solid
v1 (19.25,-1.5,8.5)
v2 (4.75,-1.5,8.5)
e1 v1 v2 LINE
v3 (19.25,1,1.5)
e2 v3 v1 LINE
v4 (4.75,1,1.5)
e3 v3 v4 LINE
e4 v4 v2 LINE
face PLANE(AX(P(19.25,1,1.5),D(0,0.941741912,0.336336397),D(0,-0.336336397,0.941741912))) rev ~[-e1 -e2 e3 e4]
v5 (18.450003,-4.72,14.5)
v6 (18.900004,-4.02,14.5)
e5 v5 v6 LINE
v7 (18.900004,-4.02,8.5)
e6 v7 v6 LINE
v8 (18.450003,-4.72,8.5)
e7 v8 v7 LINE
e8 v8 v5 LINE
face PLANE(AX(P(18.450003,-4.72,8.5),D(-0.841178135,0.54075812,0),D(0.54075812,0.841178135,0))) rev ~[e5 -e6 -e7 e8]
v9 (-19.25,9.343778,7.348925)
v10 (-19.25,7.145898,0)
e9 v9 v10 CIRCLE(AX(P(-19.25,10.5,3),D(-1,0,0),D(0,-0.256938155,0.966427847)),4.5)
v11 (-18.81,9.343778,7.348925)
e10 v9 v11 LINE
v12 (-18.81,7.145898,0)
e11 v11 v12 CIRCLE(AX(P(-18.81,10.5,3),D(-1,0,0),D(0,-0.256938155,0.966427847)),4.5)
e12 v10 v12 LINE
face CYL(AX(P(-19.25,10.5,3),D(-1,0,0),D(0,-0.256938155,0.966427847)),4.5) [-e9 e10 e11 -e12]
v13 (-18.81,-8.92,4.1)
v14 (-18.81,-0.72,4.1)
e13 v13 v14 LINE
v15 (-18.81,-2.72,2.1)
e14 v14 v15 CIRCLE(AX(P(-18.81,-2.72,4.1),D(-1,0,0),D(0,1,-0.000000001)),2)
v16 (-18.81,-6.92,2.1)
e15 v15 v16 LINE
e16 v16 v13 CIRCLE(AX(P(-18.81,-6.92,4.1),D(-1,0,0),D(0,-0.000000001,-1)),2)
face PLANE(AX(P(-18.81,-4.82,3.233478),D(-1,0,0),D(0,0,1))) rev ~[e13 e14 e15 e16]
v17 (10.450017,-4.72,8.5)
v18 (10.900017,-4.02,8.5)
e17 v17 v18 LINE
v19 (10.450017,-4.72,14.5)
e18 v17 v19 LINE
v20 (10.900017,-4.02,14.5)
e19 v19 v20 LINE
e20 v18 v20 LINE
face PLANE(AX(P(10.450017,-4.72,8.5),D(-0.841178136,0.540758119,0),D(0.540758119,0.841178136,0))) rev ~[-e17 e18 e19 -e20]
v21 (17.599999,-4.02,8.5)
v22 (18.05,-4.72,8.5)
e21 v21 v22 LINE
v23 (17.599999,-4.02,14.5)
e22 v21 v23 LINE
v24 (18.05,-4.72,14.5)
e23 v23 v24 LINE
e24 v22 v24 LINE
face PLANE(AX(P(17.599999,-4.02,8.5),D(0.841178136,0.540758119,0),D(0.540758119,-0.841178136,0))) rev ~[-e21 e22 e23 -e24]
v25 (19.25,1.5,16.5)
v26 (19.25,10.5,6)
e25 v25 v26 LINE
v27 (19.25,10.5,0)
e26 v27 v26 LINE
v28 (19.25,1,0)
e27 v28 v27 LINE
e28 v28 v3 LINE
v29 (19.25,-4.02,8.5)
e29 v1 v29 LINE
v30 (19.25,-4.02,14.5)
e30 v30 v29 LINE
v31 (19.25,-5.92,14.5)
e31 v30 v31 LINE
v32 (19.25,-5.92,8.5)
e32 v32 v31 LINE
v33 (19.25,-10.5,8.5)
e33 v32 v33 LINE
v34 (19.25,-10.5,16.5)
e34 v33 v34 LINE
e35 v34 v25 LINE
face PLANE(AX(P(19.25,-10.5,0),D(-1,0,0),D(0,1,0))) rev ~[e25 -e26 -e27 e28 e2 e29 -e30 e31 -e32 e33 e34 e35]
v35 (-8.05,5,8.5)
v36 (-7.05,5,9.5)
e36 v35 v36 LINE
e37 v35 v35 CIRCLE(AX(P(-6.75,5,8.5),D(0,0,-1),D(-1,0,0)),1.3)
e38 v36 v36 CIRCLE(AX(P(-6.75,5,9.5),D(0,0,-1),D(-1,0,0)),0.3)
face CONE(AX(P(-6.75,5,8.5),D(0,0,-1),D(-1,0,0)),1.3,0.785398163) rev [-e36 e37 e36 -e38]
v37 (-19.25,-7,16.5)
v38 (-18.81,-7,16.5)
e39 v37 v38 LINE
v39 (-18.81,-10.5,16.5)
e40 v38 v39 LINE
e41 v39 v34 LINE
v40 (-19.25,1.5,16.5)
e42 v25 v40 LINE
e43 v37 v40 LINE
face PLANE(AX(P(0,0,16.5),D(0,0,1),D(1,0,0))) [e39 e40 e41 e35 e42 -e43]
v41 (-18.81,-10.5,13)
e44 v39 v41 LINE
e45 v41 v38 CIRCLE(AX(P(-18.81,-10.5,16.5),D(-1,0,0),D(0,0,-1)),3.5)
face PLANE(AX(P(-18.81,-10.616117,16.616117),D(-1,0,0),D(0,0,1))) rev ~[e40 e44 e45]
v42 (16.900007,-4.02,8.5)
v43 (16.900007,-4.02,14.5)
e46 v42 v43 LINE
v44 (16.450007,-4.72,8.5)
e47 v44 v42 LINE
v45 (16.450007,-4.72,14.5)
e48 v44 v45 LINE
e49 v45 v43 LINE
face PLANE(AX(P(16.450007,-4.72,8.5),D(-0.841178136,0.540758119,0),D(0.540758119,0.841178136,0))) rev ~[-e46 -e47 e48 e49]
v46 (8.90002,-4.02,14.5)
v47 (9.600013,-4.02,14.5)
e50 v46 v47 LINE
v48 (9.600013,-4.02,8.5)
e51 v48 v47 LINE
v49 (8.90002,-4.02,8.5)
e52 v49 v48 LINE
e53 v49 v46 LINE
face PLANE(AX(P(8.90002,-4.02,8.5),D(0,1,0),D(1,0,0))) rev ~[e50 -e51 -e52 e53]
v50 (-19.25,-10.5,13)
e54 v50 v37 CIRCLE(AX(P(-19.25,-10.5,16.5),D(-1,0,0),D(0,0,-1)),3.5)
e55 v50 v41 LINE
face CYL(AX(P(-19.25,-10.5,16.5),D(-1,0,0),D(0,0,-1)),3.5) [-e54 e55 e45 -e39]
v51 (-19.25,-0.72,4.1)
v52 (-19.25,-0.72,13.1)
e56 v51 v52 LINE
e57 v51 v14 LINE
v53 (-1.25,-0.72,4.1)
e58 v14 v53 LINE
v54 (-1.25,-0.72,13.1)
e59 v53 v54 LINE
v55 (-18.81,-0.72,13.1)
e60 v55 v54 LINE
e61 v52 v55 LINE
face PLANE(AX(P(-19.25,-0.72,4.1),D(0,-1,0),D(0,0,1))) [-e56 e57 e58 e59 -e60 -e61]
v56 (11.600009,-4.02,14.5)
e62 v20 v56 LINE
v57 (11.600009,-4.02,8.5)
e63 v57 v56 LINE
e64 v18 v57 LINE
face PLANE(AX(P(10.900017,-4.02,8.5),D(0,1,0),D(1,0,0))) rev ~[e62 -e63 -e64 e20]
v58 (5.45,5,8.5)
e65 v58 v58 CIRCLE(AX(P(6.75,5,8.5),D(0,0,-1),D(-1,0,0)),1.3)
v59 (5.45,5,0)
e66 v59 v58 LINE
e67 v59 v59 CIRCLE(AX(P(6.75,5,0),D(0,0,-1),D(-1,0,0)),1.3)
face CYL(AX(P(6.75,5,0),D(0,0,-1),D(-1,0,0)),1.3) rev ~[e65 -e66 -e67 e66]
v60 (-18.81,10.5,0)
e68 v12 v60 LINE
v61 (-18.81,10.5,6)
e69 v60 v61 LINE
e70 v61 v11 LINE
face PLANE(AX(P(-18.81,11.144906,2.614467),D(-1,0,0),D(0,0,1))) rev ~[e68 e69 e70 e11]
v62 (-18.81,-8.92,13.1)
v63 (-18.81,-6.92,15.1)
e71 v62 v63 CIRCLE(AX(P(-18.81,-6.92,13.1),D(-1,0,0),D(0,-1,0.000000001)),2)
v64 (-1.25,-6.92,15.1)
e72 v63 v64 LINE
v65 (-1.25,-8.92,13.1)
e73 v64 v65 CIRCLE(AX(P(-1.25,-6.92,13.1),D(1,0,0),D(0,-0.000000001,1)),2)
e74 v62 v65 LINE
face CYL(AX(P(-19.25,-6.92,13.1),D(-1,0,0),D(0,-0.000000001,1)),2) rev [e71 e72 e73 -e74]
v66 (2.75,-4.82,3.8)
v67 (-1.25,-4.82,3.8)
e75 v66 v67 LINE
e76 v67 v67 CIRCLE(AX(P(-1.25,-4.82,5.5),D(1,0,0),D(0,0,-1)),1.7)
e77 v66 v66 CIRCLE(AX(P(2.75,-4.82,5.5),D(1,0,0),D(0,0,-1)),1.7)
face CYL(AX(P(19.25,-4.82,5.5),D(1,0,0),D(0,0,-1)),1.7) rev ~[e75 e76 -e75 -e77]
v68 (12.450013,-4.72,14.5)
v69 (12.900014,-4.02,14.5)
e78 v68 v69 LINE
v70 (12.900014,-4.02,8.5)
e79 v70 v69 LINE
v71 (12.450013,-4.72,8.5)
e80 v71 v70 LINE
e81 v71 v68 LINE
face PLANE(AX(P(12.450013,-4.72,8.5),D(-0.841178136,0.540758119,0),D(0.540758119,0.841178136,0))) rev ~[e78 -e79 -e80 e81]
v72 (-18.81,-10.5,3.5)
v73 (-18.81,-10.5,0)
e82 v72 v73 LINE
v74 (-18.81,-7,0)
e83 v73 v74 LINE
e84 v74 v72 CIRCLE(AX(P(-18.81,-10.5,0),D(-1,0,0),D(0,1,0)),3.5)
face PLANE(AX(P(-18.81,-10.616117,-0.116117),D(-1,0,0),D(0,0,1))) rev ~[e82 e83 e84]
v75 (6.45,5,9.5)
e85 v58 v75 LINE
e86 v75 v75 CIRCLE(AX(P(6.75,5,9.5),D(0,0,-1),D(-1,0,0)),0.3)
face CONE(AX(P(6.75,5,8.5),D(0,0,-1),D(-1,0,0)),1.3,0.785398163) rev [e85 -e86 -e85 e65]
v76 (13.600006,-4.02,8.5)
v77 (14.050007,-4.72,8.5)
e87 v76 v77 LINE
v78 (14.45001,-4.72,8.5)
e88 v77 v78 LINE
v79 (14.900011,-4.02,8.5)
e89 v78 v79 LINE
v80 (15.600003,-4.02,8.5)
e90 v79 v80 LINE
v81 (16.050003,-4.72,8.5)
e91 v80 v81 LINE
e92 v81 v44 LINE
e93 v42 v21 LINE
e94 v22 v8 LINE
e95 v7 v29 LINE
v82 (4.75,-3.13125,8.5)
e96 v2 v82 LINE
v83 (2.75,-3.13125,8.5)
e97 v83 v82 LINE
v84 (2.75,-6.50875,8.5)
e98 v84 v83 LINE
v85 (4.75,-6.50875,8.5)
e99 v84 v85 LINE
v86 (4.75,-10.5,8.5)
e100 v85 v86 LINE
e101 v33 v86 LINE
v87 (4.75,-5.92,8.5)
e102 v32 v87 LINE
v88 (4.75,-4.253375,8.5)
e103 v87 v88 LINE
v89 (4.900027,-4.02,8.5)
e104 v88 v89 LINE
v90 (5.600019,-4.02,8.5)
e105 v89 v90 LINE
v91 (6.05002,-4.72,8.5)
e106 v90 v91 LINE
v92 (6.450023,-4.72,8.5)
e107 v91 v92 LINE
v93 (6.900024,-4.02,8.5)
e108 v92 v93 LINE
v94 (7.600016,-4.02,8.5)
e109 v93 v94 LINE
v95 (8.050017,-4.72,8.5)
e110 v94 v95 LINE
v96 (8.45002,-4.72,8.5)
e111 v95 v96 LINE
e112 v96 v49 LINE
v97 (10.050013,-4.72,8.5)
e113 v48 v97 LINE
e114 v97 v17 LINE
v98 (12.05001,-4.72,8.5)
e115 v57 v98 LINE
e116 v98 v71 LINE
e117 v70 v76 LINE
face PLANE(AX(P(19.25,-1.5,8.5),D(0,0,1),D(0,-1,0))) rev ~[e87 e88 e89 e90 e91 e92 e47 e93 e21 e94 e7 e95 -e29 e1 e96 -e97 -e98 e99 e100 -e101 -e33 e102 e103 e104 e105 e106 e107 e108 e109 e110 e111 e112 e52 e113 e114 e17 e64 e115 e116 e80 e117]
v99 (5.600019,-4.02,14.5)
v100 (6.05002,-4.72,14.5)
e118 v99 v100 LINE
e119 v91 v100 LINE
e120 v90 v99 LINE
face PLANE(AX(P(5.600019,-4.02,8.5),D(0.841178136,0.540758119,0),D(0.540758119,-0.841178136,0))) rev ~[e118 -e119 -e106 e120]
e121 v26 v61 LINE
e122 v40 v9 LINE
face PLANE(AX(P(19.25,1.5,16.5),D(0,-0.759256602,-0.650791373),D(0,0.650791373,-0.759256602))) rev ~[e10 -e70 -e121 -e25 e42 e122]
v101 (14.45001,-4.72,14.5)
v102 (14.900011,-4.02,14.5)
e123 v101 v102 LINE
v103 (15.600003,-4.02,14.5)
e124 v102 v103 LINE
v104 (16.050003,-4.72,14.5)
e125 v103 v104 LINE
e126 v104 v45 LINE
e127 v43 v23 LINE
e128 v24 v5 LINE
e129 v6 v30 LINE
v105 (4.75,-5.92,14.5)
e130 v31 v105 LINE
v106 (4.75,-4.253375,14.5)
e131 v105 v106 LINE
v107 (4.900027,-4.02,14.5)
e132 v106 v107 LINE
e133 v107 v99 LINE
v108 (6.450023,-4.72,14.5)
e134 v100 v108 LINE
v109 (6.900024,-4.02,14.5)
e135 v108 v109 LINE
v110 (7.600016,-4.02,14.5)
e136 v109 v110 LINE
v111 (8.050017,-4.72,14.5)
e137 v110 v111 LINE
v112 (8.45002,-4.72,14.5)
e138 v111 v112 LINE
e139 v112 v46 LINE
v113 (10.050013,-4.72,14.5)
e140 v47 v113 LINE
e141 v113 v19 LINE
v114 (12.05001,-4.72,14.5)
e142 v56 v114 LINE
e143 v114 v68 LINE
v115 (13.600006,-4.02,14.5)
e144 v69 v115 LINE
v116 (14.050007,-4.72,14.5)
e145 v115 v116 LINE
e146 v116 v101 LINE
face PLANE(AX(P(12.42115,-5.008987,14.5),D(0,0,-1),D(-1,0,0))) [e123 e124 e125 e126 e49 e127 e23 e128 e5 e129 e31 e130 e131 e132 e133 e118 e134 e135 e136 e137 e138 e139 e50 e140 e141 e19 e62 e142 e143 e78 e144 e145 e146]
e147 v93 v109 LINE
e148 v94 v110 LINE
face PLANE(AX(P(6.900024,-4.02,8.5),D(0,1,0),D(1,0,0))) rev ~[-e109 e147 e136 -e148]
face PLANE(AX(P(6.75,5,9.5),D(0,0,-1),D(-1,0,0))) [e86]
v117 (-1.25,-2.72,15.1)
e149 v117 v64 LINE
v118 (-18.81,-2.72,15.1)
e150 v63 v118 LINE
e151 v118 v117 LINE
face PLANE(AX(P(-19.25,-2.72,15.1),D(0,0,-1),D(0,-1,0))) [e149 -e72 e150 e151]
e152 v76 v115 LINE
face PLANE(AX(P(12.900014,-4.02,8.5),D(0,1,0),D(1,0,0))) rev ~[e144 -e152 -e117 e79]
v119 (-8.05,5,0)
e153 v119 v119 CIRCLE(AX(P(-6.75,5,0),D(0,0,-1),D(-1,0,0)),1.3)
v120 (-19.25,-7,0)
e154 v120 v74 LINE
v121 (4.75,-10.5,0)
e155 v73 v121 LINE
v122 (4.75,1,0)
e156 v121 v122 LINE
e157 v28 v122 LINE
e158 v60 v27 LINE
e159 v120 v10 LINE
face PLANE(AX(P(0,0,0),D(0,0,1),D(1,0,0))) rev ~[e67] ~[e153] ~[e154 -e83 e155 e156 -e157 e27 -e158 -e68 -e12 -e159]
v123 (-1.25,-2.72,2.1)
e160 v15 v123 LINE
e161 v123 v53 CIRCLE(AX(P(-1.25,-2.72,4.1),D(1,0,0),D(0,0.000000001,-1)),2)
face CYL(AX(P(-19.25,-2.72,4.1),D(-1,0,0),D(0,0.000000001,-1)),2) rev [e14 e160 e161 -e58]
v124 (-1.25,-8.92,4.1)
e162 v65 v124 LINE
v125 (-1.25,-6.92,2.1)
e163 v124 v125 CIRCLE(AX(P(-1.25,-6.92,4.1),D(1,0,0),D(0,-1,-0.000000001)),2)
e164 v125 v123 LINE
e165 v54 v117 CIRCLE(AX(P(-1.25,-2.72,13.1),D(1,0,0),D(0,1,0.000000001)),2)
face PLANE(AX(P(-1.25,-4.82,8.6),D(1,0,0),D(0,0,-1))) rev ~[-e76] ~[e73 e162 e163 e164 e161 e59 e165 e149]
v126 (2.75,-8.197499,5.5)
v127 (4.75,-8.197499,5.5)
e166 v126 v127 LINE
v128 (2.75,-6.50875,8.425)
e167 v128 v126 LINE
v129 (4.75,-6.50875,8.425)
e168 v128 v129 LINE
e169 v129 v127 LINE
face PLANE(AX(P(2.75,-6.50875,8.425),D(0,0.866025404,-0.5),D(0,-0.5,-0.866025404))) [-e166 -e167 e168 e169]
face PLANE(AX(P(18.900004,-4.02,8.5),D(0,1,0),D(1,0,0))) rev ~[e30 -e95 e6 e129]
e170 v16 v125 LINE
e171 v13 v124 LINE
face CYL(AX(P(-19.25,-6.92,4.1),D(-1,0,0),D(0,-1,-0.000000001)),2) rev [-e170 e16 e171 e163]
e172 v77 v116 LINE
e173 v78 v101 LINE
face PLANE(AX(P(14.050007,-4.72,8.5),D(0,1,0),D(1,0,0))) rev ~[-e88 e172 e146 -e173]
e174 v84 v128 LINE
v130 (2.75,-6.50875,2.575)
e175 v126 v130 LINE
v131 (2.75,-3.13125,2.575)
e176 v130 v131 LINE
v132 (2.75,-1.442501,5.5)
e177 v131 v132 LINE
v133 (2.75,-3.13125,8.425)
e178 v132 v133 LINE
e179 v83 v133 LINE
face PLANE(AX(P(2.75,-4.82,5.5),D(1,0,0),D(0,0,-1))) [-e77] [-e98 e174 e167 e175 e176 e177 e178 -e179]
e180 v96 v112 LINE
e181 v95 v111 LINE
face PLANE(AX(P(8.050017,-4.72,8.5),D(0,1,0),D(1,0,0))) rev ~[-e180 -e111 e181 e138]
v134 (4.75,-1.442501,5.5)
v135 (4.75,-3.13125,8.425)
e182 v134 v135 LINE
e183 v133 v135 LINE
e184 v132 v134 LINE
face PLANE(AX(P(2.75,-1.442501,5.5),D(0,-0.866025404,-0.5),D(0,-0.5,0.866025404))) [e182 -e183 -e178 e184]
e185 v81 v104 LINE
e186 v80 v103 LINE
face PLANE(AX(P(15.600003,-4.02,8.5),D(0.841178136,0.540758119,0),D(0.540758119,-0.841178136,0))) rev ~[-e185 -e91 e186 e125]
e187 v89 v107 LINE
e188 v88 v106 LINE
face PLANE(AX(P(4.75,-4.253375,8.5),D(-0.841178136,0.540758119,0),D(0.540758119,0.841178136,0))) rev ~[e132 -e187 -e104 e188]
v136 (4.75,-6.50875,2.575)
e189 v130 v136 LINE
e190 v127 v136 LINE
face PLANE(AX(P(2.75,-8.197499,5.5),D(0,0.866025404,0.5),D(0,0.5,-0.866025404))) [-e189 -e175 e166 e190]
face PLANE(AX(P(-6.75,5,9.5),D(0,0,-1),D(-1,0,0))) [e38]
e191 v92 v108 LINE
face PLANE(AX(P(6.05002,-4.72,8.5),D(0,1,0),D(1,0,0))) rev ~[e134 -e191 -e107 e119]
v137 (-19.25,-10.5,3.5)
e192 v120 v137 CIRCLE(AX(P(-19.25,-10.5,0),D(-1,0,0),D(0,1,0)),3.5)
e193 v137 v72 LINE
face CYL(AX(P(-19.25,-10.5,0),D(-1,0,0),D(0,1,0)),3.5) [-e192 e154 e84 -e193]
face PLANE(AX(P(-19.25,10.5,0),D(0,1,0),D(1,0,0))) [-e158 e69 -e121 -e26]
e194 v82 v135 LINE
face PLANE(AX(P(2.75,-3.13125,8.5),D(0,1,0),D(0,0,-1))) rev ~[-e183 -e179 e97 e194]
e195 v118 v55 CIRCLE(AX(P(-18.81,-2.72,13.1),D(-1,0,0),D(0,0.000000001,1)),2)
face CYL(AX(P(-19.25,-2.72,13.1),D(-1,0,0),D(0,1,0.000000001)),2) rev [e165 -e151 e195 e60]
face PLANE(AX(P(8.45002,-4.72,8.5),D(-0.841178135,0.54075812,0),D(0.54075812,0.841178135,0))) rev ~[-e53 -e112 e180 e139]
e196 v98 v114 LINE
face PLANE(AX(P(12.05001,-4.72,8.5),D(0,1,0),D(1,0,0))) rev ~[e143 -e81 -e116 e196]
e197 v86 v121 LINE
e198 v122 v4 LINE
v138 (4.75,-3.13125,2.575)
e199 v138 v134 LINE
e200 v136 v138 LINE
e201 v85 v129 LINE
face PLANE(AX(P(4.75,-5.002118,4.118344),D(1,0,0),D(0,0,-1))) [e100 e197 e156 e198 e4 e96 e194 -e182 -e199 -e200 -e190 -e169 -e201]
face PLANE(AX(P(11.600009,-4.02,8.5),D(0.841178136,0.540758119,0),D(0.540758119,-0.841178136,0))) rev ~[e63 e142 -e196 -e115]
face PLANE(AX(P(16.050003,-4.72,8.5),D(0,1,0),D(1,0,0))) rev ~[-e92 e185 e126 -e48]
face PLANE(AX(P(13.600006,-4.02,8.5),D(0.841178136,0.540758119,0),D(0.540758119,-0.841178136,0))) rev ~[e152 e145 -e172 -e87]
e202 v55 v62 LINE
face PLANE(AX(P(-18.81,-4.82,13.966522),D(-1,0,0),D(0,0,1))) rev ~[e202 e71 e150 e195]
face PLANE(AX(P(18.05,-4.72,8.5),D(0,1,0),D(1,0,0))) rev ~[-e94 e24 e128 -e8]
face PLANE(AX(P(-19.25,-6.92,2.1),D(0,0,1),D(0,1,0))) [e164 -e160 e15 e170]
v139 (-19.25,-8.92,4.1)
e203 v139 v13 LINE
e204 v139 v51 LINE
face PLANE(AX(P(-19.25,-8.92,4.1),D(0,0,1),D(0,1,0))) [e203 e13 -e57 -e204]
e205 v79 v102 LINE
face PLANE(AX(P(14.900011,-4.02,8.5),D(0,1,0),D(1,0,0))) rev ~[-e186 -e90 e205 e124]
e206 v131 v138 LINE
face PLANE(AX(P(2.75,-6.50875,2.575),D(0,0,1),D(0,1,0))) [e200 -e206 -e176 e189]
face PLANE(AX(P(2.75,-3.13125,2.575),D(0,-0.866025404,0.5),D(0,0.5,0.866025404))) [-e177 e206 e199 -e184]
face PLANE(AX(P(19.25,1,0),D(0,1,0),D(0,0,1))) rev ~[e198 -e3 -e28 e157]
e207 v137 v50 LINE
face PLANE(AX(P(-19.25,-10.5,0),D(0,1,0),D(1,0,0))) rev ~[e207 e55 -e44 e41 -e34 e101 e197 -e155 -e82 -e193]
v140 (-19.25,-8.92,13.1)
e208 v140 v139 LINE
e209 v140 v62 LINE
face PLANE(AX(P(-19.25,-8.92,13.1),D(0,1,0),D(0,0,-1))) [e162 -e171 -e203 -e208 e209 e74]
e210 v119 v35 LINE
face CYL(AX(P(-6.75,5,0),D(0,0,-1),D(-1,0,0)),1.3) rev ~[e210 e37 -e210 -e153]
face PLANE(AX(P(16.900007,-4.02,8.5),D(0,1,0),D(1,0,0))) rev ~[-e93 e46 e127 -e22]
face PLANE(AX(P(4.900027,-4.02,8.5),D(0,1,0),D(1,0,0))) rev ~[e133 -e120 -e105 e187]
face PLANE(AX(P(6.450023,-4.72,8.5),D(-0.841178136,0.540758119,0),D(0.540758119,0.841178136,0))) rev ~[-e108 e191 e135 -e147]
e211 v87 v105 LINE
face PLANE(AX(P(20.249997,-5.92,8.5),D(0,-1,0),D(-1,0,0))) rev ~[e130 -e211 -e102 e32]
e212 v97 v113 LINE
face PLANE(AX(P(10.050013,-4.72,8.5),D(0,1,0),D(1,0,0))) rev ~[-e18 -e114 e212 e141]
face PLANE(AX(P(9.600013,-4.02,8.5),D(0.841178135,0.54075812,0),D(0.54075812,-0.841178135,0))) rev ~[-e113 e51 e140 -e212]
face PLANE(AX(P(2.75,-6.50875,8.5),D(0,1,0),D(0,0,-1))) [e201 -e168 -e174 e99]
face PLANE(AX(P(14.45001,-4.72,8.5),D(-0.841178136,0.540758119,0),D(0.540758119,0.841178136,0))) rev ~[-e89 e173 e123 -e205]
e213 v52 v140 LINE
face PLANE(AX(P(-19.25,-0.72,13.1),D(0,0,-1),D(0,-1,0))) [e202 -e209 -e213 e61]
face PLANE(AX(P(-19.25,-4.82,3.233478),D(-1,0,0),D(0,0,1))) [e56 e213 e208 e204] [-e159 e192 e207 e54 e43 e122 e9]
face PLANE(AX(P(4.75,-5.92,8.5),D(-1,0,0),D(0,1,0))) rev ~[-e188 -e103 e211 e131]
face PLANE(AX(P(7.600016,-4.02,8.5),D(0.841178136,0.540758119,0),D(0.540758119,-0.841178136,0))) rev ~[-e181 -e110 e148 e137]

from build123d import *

# Parameters (mm, degrees)
SKETCH1_W           = 38.5
SKETCH1_H           = 21
BOSS_EXTRUDE1_DEPTH = 16.5
SKETCH2_R           = 1.7
CUT_EXTRUDE1_DEPTH  = 38.5
SKETCH2_5_R         = 1.7
SKETCH2_5_W         = 0.075
SKETCH2_5_H         = 3.377499074
SKETCH2_5_W_2       = 1.5
SKETCH2_5_H_2       = 4
CUT_EXTRUDE2_DEPTH  = 14.5
CUT_EXTRUDE3_START  = -16.5
SKETCH2_6_R         = 1.7
SKETCH2_6_W         = 0.075
SKETCH2_6_H         = 3.377499074
CUT_EXTRUDE3_DEPTH  = 2
CUT_EXTRUDE4_DEPTH  = 18
SKETCH4_R           = 1.3
CUT_EXTRUDE5_DEPTH  = 9.5
CUT_EXTRUDE7_DEPTH  = 6
CHAMFER3_SIZE       = 1
BOSS_EXTRUDE2_DEPTH = 0.44


with BuildPart() as part:
    # Sketch1 → Boss-Extrude1 (new body)
    with BuildSketch(Plane.XY):
        Rectangle(SKETCH1_W, SKETCH1_H)
    extrude(amount=BOSS_EXTRUDE1_DEPTH)

    # Sketch2 → Cut-Extrude1 (cut)
    with BuildSketch(Plane(origin=(19.25, 0, 0), x_dir=(0, 0, -1), z_dir=(1, 0, 0))):
        Polygon((-16.5, 10.5), (-16.5, 1.5), (-6, 10.5), align=None)
        with Locations((-5.5, -4.82)):
            Circle(SKETCH2_R)
    extrude(amount=-CUT_EXTRUDE1_DEPTH, mode=Mode.SUBTRACT)

    # Sketch2<5> → Cut-Extrude2 (cut)
    with BuildSketch(Plane(origin=(19.25, 0, 0), x_dir=(0, 0, -1), z_dir=(1, 0, 0))):
        Polygon((-8.5, -6.508749537), (-8.5, -10.5), (-1.5, -10.5), (-1.5, -6.5), (0, -6.5), (0, 1), (-1.5, 1), (-8.5, -1.5), (-8.5, -3.131250463), (-8.425, -3.131250463), (-5.5, -1.442500925), (-2.575, -3.131250463), (-2.575, -6.508749537), (-5.5, -8.197499075), (-8.425, -6.508749537), align=None)
        Polygon((-8.425, -6.508749537), (-5.5, -8.197499075), (-2.575, -6.508749537), (-2.575, -3.131250463), (-5.5, -1.442500925), (-8.425, -3.131250463), align=None)
        with Locations((-5.5, -4.82)):
            Circle(SKETCH2_5_R, mode=Mode.SUBTRACT)
        with Locations((-8.4625, -4.82)):
            Rectangle(SKETCH2_5_W, SKETCH2_5_H)
        with Locations((-0.75, -8.5)):
            Rectangle(SKETCH2_5_W_2, SKETCH2_5_H_2)
    extrude(amount=-CUT_EXTRUDE2_DEPTH, mode=Mode.SUBTRACT)

    # Sketch2<6> → Cut-Extrude3 (cut)
    with BuildSketch(Plane(origin=(19.25, 0, 0), x_dir=(0, 0, -1), z_dir=(1, 0, 0)).offset(CUT_EXTRUDE3_START)):
        Polygon((-8.425, -6.508749537), (-5.5, -8.197499075), (-2.575, -6.508749537), (-2.575, -3.131250463), (-5.5, -1.442500925), (-8.425, -3.131250463), align=None)
        with Locations((-5.5, -4.82)):
            Circle(SKETCH2_6_R, mode=Mode.SUBTRACT)
        with Locations((-5.5, -4.82)):
            Circle(SKETCH2_6_R)
        with Locations((-8.4625, -4.82)):
            Rectangle(SKETCH2_6_W, SKETCH2_6_H)
    extrude(amount=CUT_EXTRUDE3_DEPTH, mode=Mode.SUBTRACT)

    # Sketch3 → Cut-Extrude4 (cut)
    with BuildSketch(Plane.ZY.offset(19.25)):
        with BuildLine():
            Line((13.1, -8.92), (4.1, -8.92))
            ThreePointArc((4.1, -8.92), (2.685786438, -8.334213562), (2.1, -6.92))
            Line((2.1, -6.92), (2.1, -2.72))
            ThreePointArc((2.1, -2.72), (2.685786438, -1.305786438), (4.1, -0.72))
            Line((4.1, -0.72), (13.1, -0.72))
            ThreePointArc((13.1, -0.72), (14.514213562, -1.305786438), (15.1, -2.72))
            Line((15.1, -2.72), (15.1, -6.92))
            ThreePointArc((15.1, -6.92), (14.514213562, -8.334213562), (13.1, -8.92))
        make_face()
    extrude(amount=-CUT_EXTRUDE4_DEPTH, mode=Mode.SUBTRACT)

    # Sketch4 → Cut-Extrude5 (cut)
    with BuildSketch(Plane(origin=(0, 0, 0), x_dir=(-1, 0, 0), z_dir=(0, 0, -1))):
        with Locations((-6.75, 5)):
            Circle(SKETCH4_R)
        with Locations((6.75, 5)):
            Circle(SKETCH4_R)
    extrude(amount=-CUT_EXTRUDE5_DEPTH, mode=Mode.SUBTRACT)

    # Sketch5 → Cut-Extrude7 (cut)
    with BuildSketch(Plane(origin=(0, 0, 8.5), x_dir=(-1, 0, 0), z_dir=(0, 0, -1))):
        Polygon((-20.249996698, -5.92), (-4.75, -5.92), (-4.75, -4.253375074), (-4.90002704, -4.02), (-5.600019193, -4.02), (-6.050019814, -4.72), (-6.250019814, -4.72), (-6.450023117, -4.72), (-6.900023738, -4.02), (-7.600015891, -4.02), (-8.050016512, -4.72), (-8.250016512, -4.72), (-8.450019814, -4.72), (-8.900020436, -4.02), (-9.600012588, -4.02), (-10.05001321, -4.72), (-10.25001321, -4.72), (-10.450016512, -4.72), (-10.900017133, -4.02), (-11.600009286, -4.02), (-12.050009907, -4.72), (-12.250009907, -4.72), (-12.45001321, -4.72), (-12.900013831, -4.02), (-13.600005984, -4.02), (-14.050006605, -4.72), (-14.250006605, -4.72), (-14.450009907, -4.72), (-14.900010528, -4.02), (-15.600002681, -4.02), (-16.050003302, -4.72), (-16.250003302, -4.72), (-16.450006605, -4.72), (-16.900007226, -4.02), (-17.599999379, -4.02), (-18.05, -4.72), (-18.250003302, -4.72), (-18.450003302, -4.72), (-18.900003924, -4.02), (-19.599996076, -4.02), (-20.049996698, -4.72), (-20.249996698, -4.72), align=None)
    extrude(amount=-CUT_EXTRUDE7_DEPTH, mode=Mode.SUBTRACT)

    # Chamfer3
    chamfer3_edges = [part.edges().sort_by_distance(p)[0] for p in [
        (8.05, 5, 9.5),
        (-5.45, 5, 9.5),
    ]]
    chamfer(chamfer3_edges, length=CHAMFER3_SIZE)

    # Sketch6 → Boss-Extrude2 (add)
    with BuildSketch(Plane.ZY.offset(19.25)):
        with BuildLine():
            Line((4.1, -8.92), (4.1, -0.72))
            ThreePointArc((4.1, -0.72), (2.685786438, -1.305786438), (2.1, -2.72))
            Line((2.1, -2.72), (2.1, -6.92))
            ThreePointArc((2.1, -6.92), (2.685786438, -8.334213562), (4.1, -8.92))
        make_face()
        with BuildLine():
            ThreePointArc((15.1, -2.72), (14.514213562, -1.305786438), (13.1, -0.72))
            Line((13.1, -0.72), (13.1, -8.92))
            ThreePointArc((13.1, -8.92), (14.514213562, -8.334213562), (15.1, -6.92))
            Line((15.1, -6.92), (15.1, -2.72))
        make_face()
        with BuildLine():
            Line((16.5, -10.5), (13, -10.5))
            ThreePointArc((13, -10.5), (18.974873734, -12.974873734), (16.5, -7))
            Line((16.5, -7), (16.5, -10.5))
        make_face()
        with BuildLine():
            ThreePointArc((0, -7), (-2.474873734, -12.974873734), (3.5, -10.5))
            Line((3.5, -10.5), (0, -10.5))
            Line((0, -10.5), (0, -7))
        make_face()
        with BuildLine():
            ThreePointArc((7.348925314, 9.343778302), (1.710593433, 14.811314267), (0, 7.145898034))
            Line((0, 7.145898034), (0, 10.5))
            Line((0, 10.5), (6, 10.5))
            Line((6, 10.5), (7.348925314, 9.343778302))
        make_face()
    extrude(amount=-BOSS_EXTRUDE2_DEPTH)


solid = part.part
